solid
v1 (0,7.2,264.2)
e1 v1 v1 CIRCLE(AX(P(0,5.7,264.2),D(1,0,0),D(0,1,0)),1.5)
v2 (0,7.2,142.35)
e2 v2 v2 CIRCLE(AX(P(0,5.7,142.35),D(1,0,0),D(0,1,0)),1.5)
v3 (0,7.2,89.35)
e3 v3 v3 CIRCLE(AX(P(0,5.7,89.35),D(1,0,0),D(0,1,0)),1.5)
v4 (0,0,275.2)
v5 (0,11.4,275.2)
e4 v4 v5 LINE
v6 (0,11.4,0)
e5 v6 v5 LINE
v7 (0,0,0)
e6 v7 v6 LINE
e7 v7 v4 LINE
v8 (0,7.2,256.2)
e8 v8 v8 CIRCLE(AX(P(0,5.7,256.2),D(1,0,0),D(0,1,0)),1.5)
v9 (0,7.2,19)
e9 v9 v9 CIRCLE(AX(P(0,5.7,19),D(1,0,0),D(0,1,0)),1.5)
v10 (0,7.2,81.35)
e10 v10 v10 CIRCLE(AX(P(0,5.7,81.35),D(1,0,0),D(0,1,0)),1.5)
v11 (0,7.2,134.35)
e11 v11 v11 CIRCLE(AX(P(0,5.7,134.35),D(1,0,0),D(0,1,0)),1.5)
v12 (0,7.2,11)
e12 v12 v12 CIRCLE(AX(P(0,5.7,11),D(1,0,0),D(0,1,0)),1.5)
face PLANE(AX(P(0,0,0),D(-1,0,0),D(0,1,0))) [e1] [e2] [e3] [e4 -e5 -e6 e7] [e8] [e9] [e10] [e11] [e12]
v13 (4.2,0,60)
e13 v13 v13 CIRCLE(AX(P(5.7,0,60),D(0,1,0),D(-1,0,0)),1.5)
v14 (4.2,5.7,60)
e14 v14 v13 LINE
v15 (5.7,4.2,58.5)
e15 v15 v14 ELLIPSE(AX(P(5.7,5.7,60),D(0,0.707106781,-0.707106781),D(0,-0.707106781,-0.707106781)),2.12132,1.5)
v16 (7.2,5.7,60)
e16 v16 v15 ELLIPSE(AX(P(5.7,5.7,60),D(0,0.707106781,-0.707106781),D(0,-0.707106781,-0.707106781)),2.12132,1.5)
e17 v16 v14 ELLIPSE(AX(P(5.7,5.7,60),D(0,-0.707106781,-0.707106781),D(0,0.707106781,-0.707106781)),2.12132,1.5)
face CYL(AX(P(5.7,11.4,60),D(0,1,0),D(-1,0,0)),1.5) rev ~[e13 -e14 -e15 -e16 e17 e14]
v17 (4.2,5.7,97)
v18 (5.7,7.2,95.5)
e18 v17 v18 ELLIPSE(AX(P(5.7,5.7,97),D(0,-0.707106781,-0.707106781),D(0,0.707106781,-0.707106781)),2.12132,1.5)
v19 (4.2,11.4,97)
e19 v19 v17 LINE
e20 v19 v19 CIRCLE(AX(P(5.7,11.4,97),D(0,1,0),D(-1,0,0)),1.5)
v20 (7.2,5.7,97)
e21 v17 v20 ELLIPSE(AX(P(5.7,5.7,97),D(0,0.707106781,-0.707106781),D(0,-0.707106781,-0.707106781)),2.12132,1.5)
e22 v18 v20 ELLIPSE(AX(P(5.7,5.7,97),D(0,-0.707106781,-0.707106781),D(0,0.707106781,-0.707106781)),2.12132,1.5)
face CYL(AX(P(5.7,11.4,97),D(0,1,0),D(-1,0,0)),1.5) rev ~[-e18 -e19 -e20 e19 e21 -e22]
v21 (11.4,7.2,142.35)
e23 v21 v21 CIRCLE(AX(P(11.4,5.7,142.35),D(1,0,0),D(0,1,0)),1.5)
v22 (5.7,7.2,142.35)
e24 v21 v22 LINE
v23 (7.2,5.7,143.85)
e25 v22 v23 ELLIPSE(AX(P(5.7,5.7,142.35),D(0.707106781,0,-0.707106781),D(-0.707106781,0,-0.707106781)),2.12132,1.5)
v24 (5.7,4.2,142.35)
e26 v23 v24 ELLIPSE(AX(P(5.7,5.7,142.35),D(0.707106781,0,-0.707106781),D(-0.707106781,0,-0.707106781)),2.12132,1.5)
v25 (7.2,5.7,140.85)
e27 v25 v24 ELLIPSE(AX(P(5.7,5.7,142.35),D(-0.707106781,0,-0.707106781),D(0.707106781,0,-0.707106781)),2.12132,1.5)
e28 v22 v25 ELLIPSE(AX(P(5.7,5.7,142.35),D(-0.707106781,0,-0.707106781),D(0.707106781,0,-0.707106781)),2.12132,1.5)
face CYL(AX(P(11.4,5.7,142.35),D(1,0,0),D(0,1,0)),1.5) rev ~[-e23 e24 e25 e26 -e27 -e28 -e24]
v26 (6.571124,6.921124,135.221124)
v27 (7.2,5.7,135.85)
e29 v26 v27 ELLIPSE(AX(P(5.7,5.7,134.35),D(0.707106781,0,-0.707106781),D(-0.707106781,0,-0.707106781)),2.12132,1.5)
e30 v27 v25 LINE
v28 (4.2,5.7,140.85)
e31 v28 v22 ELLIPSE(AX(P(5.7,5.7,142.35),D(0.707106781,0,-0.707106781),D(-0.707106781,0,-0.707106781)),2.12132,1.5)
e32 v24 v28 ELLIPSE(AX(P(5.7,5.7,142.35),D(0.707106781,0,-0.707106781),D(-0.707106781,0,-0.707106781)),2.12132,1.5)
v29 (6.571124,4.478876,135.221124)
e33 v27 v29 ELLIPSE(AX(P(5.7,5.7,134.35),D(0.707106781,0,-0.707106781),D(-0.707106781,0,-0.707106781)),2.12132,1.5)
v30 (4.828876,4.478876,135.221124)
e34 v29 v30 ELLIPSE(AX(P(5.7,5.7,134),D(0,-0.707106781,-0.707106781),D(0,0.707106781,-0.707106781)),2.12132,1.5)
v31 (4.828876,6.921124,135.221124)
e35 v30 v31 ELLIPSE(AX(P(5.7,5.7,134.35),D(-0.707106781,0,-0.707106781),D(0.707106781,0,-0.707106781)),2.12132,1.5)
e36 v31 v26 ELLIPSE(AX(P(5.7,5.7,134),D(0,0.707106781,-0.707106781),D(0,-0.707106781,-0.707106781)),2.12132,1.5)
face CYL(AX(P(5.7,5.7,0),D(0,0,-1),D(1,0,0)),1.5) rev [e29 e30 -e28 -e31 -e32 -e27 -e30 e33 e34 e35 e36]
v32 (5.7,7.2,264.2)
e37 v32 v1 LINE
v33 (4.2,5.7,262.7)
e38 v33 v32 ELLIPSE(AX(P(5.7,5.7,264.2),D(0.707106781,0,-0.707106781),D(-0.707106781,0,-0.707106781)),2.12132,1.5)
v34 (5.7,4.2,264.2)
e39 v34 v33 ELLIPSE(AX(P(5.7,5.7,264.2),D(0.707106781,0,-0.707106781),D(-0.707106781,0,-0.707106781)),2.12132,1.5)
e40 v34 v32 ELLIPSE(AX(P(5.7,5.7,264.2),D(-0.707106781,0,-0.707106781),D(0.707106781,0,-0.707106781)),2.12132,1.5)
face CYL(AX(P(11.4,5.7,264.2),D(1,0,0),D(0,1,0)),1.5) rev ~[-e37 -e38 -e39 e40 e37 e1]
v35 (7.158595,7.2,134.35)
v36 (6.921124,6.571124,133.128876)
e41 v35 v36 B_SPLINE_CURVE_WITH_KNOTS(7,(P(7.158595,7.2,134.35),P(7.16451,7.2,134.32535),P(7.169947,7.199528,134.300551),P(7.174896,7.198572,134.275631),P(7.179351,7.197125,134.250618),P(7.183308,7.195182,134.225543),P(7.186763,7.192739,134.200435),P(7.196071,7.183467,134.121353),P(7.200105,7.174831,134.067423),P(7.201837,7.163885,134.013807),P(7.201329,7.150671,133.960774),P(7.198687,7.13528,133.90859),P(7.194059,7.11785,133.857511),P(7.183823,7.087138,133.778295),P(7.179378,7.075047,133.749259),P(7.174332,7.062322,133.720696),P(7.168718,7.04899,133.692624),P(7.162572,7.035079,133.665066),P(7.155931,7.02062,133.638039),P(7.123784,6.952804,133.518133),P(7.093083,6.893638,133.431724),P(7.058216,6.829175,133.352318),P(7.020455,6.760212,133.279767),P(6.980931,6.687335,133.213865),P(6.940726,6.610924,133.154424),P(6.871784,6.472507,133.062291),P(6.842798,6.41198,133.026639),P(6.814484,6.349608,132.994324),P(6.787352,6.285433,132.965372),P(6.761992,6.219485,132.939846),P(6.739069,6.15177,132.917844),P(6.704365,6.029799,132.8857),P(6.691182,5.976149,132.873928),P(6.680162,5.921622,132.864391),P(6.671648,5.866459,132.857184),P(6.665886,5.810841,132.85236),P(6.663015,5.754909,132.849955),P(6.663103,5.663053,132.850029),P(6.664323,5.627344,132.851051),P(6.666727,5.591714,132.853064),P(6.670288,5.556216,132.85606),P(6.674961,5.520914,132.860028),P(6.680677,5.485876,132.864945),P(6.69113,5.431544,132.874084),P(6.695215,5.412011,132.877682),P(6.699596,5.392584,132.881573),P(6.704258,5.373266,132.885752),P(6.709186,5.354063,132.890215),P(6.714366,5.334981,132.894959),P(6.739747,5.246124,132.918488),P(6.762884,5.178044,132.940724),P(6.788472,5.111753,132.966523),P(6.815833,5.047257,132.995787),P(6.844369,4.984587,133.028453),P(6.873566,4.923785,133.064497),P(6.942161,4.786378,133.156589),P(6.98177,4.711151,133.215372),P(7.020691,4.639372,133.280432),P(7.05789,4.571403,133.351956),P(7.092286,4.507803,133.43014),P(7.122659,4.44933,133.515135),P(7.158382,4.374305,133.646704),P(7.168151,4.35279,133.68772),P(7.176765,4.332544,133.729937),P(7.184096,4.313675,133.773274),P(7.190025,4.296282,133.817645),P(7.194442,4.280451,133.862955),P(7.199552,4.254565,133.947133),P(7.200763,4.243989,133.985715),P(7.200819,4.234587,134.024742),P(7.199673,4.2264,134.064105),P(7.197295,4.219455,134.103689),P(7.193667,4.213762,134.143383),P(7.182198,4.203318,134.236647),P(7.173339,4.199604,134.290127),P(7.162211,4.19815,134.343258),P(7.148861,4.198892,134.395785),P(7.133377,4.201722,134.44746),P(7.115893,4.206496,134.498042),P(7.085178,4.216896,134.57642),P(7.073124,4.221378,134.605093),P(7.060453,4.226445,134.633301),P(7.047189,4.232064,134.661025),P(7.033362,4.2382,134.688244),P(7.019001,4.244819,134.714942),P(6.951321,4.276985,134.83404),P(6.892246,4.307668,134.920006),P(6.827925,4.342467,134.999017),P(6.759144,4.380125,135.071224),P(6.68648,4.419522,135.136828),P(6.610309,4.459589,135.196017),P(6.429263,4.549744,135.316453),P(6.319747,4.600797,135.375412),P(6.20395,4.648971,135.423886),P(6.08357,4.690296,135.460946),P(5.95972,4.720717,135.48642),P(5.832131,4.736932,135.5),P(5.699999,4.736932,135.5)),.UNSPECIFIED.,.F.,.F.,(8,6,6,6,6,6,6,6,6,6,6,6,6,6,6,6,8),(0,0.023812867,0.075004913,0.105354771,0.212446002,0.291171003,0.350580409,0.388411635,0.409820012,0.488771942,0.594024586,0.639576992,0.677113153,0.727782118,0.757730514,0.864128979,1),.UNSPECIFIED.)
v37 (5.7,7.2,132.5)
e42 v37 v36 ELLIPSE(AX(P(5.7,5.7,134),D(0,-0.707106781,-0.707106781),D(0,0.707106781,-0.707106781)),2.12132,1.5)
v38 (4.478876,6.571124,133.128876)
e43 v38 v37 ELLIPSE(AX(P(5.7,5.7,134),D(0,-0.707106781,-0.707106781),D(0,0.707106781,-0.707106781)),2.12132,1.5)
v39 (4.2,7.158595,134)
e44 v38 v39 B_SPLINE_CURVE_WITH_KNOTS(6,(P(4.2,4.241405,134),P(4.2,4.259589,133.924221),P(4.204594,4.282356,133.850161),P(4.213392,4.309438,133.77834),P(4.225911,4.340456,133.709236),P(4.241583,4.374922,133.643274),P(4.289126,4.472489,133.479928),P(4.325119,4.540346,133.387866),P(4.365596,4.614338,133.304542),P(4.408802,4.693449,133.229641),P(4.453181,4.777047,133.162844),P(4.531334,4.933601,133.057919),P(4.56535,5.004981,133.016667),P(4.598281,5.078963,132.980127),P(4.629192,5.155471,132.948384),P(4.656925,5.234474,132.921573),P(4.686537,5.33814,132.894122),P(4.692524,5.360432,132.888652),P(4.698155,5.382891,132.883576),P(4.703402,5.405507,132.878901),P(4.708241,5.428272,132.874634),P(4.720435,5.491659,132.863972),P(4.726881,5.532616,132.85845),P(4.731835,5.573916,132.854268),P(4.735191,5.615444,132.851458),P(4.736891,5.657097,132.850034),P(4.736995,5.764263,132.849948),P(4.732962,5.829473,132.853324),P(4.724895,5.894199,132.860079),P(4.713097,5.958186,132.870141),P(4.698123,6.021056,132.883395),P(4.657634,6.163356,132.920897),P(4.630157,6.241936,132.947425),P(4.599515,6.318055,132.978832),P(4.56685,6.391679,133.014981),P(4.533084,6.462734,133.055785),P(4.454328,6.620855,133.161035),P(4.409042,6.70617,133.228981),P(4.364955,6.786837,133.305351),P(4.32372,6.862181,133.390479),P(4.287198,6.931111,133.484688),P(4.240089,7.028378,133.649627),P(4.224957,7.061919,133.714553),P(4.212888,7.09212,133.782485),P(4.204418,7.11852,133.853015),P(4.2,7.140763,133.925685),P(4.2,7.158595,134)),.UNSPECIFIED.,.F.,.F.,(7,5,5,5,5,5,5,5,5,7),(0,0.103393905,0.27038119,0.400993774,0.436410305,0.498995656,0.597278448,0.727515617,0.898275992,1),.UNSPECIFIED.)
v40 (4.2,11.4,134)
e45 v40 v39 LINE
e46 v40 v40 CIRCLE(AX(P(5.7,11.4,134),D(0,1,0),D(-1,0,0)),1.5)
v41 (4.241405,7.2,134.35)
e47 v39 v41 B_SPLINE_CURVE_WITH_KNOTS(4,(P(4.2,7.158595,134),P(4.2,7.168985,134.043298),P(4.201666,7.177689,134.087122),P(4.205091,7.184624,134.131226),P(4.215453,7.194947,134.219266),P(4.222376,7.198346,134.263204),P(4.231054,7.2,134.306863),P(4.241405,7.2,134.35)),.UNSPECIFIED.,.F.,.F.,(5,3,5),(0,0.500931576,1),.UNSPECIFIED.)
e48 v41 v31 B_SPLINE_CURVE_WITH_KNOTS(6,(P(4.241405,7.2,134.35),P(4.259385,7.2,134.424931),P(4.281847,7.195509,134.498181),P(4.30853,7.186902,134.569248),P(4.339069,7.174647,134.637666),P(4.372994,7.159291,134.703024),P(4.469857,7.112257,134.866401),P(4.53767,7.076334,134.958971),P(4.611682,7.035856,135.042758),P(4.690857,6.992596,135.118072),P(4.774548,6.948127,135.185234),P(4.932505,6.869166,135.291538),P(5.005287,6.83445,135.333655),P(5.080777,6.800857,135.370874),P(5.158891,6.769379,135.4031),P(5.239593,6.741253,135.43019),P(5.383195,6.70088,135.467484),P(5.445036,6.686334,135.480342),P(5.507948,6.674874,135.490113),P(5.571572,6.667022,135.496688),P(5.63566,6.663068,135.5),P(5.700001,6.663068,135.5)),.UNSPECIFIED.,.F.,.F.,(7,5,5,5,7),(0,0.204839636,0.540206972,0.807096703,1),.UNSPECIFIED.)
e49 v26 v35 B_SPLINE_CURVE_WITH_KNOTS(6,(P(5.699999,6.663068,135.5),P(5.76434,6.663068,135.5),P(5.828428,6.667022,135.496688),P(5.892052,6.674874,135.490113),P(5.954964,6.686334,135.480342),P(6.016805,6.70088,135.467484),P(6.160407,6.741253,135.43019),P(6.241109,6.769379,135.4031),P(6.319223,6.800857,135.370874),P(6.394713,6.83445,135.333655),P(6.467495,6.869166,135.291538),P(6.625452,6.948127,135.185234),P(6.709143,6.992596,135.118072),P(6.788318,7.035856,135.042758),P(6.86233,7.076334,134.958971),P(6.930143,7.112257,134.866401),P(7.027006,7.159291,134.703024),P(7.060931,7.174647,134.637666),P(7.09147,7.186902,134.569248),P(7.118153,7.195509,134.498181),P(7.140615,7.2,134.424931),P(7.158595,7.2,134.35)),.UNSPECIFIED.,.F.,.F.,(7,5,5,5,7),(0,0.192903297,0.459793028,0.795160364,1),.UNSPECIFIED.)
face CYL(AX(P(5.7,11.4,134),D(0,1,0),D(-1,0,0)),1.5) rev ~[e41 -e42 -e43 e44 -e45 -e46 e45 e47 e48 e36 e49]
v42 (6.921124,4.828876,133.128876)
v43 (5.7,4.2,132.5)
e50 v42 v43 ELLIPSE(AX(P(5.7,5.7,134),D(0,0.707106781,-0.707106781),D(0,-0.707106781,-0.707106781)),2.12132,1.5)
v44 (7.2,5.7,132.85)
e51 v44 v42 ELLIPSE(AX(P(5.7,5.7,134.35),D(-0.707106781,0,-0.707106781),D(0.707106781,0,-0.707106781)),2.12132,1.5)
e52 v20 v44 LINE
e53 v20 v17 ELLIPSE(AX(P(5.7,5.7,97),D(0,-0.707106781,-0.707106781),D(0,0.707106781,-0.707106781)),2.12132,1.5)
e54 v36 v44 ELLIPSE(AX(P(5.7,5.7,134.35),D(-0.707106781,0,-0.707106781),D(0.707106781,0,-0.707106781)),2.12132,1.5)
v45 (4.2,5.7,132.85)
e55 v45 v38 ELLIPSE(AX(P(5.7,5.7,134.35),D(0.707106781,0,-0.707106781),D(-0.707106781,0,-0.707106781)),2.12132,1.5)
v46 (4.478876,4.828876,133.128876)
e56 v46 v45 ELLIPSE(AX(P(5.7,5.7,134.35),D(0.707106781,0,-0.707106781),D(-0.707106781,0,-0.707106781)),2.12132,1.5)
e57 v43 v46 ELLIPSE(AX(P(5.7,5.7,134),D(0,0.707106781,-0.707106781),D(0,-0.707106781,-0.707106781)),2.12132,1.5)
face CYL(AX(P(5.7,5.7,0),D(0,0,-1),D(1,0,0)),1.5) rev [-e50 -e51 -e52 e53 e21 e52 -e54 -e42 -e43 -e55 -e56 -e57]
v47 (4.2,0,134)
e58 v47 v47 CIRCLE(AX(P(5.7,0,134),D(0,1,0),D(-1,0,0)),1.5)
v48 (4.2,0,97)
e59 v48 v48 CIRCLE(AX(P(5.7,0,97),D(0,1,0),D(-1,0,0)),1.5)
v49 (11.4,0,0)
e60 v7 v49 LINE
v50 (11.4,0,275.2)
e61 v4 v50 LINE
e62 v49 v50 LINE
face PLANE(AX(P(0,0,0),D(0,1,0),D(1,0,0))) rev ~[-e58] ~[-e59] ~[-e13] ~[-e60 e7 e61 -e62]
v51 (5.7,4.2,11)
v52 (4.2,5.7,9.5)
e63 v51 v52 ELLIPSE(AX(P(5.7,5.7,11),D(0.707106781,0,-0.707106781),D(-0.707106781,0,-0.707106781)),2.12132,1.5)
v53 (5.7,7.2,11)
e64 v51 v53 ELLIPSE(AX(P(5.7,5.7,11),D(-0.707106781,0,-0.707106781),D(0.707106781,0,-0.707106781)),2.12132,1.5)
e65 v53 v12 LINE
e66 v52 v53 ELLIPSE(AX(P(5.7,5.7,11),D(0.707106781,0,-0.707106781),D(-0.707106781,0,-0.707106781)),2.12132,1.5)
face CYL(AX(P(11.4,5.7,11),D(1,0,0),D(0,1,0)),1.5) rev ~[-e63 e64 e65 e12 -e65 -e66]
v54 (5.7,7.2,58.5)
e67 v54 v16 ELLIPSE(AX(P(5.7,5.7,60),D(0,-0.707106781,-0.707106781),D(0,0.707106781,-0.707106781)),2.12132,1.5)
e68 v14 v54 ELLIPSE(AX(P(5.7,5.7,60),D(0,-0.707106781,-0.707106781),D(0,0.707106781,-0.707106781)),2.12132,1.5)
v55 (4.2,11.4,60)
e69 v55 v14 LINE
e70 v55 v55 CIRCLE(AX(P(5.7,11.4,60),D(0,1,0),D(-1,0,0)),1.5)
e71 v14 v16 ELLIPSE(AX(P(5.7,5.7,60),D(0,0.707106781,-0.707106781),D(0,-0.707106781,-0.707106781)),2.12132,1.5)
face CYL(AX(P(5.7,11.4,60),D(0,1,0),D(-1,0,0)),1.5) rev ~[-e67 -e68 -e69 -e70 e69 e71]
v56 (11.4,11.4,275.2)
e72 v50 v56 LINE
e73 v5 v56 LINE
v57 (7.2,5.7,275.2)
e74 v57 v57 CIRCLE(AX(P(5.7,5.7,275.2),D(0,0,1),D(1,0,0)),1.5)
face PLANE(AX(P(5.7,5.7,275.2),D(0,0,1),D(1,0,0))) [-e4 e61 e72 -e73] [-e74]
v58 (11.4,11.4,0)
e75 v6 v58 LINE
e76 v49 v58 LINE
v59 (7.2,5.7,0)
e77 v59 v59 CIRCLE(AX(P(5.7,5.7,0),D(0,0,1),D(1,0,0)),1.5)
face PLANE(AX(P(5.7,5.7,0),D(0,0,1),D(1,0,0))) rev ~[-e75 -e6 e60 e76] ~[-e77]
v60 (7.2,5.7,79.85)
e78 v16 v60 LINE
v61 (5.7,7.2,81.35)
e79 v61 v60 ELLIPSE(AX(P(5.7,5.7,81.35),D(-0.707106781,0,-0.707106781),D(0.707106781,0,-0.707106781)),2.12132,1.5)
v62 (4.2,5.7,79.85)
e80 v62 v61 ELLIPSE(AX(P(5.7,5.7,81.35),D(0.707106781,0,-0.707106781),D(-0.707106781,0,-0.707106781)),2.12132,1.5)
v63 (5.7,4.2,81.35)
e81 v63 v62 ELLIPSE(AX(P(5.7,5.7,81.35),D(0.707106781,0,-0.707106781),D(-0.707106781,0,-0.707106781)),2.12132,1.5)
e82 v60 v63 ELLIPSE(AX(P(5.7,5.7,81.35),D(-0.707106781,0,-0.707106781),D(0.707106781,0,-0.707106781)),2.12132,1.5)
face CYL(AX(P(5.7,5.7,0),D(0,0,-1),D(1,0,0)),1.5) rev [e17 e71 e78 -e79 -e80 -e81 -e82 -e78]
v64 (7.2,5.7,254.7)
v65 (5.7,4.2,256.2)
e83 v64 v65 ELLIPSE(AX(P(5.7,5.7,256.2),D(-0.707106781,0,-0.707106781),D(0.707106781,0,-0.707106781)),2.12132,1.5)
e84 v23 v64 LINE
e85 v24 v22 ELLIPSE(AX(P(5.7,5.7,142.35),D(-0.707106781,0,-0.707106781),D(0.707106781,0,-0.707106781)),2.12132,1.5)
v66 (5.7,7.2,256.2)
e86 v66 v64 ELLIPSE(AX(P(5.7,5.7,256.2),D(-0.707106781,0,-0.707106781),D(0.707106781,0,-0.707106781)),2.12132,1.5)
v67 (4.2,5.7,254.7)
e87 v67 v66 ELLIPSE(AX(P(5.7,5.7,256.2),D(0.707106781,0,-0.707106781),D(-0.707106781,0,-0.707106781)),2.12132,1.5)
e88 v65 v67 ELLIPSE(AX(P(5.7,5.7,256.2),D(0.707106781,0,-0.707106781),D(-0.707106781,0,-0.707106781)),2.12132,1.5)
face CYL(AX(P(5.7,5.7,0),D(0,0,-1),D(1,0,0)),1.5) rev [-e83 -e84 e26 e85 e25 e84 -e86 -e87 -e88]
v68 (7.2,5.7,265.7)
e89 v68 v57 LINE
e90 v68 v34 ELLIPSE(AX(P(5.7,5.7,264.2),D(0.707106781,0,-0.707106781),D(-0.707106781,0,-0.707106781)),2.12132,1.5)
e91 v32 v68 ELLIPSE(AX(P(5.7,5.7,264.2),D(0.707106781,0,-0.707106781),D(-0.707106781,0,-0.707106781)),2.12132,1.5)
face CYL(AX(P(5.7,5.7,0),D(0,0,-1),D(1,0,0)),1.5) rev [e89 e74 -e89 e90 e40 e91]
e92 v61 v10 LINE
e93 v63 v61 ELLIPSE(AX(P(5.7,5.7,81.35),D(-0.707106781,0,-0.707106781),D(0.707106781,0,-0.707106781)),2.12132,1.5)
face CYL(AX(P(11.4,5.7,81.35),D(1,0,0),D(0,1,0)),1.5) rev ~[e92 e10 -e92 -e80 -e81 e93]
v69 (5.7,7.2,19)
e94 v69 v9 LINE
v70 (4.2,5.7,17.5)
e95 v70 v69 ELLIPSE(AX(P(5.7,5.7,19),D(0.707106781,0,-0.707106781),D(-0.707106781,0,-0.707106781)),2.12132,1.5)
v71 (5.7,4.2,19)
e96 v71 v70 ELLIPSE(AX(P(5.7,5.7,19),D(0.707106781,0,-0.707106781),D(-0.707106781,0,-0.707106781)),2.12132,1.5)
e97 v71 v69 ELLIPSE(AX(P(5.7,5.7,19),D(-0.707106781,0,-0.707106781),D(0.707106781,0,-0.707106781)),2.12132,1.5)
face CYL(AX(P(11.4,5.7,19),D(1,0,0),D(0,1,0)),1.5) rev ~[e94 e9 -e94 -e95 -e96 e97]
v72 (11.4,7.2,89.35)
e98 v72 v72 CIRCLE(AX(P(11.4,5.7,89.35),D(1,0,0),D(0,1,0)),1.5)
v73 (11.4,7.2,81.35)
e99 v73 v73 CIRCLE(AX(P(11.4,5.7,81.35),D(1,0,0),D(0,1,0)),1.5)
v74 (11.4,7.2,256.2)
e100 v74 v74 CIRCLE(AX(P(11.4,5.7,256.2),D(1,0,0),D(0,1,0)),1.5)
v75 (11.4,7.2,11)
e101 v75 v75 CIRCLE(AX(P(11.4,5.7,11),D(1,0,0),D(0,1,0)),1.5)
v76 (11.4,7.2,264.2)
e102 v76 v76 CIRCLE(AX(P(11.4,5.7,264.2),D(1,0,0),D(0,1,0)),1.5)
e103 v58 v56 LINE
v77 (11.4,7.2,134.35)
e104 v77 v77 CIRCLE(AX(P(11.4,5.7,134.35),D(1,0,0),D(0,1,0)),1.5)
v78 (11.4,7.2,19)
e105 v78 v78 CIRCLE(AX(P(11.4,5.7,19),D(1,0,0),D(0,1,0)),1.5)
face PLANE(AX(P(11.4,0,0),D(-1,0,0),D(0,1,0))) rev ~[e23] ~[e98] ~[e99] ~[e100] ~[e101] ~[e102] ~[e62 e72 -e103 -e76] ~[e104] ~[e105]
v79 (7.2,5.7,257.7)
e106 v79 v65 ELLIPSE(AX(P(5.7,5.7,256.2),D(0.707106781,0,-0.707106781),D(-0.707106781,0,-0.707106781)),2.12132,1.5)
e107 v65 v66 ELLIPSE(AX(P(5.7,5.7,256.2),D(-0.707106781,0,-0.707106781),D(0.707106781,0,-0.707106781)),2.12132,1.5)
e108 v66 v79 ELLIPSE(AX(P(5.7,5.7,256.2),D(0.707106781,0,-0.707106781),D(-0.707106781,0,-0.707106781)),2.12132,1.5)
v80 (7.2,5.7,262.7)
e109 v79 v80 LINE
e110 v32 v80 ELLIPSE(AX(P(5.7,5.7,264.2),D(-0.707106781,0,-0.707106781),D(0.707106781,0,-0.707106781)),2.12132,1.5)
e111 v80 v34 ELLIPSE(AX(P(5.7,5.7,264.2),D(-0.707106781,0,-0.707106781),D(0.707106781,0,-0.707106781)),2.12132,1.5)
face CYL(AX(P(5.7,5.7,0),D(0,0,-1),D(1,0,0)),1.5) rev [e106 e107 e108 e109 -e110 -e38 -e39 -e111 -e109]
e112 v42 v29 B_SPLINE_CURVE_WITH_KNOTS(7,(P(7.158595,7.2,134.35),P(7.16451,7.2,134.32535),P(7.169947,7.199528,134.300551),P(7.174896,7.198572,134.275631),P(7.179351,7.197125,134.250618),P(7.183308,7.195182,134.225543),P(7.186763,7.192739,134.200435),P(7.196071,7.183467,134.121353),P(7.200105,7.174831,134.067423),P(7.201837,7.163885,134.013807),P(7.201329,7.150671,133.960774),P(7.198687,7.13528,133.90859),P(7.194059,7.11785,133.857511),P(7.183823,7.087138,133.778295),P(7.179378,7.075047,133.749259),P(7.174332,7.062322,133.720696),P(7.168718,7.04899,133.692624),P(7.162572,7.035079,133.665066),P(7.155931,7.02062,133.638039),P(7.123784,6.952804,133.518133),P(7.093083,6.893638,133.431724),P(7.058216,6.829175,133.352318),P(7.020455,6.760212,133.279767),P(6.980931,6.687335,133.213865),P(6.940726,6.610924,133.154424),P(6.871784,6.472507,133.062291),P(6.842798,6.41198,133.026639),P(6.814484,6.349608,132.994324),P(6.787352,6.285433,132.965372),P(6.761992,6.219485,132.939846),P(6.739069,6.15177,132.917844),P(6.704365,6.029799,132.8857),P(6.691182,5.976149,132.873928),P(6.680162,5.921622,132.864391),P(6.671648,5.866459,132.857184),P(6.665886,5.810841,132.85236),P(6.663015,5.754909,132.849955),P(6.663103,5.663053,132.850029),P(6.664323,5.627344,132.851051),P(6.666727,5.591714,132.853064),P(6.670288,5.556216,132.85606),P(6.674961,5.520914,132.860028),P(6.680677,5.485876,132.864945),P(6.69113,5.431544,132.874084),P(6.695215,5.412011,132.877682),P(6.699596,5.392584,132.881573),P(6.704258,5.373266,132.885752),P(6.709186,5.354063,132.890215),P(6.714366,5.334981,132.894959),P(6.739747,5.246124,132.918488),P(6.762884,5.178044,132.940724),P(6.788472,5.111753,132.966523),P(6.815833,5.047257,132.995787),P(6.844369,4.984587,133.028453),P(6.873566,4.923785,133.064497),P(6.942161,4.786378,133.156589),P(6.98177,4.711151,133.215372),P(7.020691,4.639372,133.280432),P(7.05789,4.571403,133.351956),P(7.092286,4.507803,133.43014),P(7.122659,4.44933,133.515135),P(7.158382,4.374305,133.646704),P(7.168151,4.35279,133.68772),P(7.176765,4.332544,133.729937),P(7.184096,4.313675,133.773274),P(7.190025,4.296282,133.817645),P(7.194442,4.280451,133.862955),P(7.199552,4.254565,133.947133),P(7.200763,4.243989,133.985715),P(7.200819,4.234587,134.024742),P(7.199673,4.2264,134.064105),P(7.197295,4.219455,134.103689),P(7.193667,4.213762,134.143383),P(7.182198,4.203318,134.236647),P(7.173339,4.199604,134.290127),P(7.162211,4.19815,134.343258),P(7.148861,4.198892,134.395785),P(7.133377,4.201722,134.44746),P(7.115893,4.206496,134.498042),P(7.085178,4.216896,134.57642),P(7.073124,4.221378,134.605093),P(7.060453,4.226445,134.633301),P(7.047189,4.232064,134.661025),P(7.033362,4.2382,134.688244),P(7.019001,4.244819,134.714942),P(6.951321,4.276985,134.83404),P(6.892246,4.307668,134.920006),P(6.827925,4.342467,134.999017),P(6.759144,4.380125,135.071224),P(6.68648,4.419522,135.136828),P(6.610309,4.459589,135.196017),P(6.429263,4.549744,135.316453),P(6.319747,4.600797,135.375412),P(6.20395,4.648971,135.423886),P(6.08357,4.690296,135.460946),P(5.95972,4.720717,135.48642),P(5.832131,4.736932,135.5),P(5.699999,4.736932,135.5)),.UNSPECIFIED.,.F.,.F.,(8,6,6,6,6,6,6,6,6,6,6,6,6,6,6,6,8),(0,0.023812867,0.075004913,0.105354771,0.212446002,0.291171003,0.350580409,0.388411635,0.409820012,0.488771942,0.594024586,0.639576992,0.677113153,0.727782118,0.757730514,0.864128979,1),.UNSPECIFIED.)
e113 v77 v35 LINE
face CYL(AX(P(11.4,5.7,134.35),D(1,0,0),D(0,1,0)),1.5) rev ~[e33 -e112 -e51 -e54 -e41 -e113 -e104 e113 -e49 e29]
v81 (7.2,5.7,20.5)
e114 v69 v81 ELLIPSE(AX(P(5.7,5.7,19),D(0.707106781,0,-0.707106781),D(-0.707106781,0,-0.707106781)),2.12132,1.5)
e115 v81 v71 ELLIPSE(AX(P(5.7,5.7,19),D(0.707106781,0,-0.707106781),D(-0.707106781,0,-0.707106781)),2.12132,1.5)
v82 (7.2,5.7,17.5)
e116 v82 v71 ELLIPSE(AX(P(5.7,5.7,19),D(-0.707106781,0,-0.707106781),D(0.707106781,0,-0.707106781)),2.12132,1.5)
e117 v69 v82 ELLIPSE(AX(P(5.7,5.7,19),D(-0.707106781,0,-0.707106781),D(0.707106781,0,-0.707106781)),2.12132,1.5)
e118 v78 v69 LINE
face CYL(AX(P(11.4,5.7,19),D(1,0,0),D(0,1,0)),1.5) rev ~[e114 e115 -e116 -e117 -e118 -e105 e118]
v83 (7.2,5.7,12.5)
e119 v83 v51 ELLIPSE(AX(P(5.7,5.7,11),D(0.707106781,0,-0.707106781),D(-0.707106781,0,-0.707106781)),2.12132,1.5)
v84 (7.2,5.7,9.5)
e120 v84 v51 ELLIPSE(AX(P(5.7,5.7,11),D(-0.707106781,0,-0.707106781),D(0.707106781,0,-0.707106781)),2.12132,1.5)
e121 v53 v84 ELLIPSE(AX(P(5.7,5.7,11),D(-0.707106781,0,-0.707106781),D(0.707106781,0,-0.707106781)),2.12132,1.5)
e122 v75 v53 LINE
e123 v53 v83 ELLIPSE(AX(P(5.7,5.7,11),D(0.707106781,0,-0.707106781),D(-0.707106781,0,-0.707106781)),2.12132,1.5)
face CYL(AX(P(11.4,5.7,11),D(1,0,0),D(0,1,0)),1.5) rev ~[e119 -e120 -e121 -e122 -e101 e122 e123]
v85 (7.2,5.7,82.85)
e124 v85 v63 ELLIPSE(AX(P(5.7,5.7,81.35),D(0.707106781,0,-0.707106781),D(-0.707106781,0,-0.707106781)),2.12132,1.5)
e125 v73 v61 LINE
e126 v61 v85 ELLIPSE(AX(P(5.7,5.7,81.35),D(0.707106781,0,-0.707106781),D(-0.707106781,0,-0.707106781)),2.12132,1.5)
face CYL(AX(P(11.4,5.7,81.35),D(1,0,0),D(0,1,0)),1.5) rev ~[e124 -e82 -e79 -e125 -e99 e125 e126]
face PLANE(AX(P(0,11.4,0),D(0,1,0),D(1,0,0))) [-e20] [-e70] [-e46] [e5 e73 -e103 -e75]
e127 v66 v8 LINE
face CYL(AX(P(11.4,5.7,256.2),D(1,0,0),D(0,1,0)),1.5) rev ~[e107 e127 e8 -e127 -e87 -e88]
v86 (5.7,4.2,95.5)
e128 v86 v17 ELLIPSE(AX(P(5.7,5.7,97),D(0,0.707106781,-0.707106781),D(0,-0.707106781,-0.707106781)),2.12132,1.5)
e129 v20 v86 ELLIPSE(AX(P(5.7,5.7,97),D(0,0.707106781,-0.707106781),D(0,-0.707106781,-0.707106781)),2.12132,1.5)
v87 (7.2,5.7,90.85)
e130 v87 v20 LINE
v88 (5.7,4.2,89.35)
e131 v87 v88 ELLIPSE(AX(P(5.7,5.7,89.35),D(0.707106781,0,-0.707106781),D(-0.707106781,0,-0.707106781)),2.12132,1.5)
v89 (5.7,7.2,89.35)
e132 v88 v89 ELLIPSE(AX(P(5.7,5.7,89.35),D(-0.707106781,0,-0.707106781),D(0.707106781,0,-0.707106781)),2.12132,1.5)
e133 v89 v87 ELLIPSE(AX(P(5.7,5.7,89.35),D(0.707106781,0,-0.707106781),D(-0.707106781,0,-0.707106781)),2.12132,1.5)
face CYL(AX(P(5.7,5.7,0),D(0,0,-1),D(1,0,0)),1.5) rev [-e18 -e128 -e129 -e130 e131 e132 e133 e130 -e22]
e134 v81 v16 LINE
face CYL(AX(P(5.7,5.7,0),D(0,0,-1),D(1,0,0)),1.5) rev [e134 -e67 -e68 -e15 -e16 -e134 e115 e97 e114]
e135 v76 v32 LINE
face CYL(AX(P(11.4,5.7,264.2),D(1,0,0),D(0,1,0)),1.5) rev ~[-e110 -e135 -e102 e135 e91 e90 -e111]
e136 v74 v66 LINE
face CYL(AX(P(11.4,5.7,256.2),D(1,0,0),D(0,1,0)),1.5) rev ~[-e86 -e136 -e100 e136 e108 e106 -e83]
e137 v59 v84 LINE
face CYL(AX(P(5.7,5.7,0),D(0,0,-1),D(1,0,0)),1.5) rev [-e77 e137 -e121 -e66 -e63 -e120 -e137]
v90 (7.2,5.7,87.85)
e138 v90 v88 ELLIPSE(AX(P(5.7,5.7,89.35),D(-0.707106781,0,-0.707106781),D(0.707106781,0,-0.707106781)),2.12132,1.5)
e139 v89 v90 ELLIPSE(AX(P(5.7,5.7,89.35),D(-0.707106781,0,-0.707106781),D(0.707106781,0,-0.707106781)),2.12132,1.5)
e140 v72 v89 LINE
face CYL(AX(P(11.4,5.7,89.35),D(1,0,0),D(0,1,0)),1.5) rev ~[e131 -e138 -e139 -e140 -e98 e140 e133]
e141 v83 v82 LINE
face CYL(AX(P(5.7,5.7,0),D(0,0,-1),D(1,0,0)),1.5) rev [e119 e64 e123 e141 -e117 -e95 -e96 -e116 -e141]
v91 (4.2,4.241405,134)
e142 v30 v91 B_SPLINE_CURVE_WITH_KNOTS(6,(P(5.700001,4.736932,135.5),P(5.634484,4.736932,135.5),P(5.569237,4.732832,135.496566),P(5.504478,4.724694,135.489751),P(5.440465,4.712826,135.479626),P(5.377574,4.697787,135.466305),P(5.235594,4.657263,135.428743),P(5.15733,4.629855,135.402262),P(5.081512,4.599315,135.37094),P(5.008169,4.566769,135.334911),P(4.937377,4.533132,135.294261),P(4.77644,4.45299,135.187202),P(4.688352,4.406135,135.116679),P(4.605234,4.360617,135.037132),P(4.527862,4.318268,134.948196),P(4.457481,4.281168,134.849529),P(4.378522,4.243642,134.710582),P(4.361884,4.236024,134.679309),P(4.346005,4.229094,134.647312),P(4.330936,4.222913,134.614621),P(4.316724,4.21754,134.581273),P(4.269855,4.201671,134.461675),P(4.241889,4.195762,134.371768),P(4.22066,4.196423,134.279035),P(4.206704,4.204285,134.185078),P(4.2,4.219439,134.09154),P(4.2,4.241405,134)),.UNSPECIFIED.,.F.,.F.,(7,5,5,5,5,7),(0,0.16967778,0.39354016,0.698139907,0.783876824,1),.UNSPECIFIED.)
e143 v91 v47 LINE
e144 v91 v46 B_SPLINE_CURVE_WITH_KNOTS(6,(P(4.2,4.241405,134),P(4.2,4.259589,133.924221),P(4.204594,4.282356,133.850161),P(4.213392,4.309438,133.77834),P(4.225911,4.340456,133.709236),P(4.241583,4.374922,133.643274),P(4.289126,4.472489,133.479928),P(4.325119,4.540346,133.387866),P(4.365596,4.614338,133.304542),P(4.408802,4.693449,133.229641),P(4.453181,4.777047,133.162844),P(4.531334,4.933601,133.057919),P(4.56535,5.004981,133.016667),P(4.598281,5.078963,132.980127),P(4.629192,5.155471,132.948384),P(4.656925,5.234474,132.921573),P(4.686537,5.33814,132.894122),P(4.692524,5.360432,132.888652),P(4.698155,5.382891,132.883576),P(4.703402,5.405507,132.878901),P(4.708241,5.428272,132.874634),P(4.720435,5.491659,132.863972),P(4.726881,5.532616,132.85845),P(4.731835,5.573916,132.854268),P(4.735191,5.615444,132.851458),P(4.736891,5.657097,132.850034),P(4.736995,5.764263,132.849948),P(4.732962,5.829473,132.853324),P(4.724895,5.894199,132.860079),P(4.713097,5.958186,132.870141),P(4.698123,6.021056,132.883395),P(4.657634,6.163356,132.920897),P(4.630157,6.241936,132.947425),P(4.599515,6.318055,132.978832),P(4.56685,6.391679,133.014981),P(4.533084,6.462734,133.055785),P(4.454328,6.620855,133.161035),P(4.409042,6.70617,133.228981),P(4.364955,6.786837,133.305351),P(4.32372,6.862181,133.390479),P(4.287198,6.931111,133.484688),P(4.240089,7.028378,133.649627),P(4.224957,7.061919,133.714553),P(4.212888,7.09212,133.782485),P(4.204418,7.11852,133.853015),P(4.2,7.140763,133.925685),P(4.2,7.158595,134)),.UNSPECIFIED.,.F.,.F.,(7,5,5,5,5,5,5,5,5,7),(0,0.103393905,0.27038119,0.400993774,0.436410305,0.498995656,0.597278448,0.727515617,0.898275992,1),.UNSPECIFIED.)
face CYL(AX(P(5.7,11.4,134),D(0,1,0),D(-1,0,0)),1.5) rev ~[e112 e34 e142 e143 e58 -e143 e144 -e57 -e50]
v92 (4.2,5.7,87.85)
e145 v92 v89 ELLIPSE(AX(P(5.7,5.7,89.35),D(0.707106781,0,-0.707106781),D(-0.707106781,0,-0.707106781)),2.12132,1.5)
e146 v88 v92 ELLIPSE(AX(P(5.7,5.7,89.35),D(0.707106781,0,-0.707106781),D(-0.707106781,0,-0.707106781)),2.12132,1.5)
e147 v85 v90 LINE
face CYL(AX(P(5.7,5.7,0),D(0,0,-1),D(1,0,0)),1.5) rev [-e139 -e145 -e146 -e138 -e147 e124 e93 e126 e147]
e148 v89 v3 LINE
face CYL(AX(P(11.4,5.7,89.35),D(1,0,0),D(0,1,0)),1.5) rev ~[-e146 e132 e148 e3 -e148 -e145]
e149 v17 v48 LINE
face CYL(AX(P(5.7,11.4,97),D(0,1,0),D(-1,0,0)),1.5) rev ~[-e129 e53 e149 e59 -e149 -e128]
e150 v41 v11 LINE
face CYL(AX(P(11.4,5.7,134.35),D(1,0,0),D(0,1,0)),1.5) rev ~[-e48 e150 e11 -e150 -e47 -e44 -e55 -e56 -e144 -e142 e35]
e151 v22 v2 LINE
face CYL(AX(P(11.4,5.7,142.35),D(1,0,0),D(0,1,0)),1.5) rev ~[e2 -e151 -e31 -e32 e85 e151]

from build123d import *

# Parameters (mm, degrees)
SKETCH_W        = 11.4
SKETCH_H        = 11.4
SKETCH_R        = 1.5
PAD_DEPTH       = 275.2
SKETCH001_R     = 1.5
POCKET_DEPTH    = 11.401
SKETCH002_R     = 1.5
POCKET001_DEPTH = 11.401


with BuildPart() as part:
    # Sketch → Pad (new body)
    with BuildSketch(Plane.XY):
        with Locations((5.7, 5.7)):
            Rectangle(SKETCH_W, SKETCH_H)
        with Locations((5.7, 5.7)):
            Circle(SKETCH_R, mode=Mode.SUBTRACT)
    extrude(amount=PAD_DEPTH)

    # Sketch001 → Pocket (cut, through all)
    with BuildSketch(Plane.YZ.offset(11.4)):
        with Locations((5.7, 142.35)):
            Circle(SKETCH001_R)
        with Locations((5.7, 134.35)):
            Circle(SKETCH001_R)
        with Locations((5.7, 19)):
            Circle(SKETCH001_R)
        with Locations((5.7, 11)):
            Circle(SKETCH001_R)
        with Locations((5.7, 89.35)):
            Circle(SKETCH001_R)
        with Locations((5.7, 81.35)):
            Circle(SKETCH001_R)
        with Locations((5.7, 264.2)):
            Circle(SKETCH001_R)
        with Locations((5.7, 256.2)):
            Circle(SKETCH001_R)
    extrude(amount=-POCKET_DEPTH, mode=Mode.SUBTRACT)

    # Sketch002 → Pocket001 (cut, through all)
    with BuildSketch(Plane(origin=(0, 11.4, 0), x_dir=(-1, 0, 0), z_dir=(0, 1, 0))):
        with Locations((-5.7, 60)):
            Circle(SKETCH002_R)
        with Locations((-5.7, 97)):
            Circle(SKETCH002_R)
        with Locations((-5.7, 134)):
            Circle(SKETCH002_R)
    extrude(amount=-POCKET001_DEPTH, mode=Mode.SUBTRACT)


solid = part.part
